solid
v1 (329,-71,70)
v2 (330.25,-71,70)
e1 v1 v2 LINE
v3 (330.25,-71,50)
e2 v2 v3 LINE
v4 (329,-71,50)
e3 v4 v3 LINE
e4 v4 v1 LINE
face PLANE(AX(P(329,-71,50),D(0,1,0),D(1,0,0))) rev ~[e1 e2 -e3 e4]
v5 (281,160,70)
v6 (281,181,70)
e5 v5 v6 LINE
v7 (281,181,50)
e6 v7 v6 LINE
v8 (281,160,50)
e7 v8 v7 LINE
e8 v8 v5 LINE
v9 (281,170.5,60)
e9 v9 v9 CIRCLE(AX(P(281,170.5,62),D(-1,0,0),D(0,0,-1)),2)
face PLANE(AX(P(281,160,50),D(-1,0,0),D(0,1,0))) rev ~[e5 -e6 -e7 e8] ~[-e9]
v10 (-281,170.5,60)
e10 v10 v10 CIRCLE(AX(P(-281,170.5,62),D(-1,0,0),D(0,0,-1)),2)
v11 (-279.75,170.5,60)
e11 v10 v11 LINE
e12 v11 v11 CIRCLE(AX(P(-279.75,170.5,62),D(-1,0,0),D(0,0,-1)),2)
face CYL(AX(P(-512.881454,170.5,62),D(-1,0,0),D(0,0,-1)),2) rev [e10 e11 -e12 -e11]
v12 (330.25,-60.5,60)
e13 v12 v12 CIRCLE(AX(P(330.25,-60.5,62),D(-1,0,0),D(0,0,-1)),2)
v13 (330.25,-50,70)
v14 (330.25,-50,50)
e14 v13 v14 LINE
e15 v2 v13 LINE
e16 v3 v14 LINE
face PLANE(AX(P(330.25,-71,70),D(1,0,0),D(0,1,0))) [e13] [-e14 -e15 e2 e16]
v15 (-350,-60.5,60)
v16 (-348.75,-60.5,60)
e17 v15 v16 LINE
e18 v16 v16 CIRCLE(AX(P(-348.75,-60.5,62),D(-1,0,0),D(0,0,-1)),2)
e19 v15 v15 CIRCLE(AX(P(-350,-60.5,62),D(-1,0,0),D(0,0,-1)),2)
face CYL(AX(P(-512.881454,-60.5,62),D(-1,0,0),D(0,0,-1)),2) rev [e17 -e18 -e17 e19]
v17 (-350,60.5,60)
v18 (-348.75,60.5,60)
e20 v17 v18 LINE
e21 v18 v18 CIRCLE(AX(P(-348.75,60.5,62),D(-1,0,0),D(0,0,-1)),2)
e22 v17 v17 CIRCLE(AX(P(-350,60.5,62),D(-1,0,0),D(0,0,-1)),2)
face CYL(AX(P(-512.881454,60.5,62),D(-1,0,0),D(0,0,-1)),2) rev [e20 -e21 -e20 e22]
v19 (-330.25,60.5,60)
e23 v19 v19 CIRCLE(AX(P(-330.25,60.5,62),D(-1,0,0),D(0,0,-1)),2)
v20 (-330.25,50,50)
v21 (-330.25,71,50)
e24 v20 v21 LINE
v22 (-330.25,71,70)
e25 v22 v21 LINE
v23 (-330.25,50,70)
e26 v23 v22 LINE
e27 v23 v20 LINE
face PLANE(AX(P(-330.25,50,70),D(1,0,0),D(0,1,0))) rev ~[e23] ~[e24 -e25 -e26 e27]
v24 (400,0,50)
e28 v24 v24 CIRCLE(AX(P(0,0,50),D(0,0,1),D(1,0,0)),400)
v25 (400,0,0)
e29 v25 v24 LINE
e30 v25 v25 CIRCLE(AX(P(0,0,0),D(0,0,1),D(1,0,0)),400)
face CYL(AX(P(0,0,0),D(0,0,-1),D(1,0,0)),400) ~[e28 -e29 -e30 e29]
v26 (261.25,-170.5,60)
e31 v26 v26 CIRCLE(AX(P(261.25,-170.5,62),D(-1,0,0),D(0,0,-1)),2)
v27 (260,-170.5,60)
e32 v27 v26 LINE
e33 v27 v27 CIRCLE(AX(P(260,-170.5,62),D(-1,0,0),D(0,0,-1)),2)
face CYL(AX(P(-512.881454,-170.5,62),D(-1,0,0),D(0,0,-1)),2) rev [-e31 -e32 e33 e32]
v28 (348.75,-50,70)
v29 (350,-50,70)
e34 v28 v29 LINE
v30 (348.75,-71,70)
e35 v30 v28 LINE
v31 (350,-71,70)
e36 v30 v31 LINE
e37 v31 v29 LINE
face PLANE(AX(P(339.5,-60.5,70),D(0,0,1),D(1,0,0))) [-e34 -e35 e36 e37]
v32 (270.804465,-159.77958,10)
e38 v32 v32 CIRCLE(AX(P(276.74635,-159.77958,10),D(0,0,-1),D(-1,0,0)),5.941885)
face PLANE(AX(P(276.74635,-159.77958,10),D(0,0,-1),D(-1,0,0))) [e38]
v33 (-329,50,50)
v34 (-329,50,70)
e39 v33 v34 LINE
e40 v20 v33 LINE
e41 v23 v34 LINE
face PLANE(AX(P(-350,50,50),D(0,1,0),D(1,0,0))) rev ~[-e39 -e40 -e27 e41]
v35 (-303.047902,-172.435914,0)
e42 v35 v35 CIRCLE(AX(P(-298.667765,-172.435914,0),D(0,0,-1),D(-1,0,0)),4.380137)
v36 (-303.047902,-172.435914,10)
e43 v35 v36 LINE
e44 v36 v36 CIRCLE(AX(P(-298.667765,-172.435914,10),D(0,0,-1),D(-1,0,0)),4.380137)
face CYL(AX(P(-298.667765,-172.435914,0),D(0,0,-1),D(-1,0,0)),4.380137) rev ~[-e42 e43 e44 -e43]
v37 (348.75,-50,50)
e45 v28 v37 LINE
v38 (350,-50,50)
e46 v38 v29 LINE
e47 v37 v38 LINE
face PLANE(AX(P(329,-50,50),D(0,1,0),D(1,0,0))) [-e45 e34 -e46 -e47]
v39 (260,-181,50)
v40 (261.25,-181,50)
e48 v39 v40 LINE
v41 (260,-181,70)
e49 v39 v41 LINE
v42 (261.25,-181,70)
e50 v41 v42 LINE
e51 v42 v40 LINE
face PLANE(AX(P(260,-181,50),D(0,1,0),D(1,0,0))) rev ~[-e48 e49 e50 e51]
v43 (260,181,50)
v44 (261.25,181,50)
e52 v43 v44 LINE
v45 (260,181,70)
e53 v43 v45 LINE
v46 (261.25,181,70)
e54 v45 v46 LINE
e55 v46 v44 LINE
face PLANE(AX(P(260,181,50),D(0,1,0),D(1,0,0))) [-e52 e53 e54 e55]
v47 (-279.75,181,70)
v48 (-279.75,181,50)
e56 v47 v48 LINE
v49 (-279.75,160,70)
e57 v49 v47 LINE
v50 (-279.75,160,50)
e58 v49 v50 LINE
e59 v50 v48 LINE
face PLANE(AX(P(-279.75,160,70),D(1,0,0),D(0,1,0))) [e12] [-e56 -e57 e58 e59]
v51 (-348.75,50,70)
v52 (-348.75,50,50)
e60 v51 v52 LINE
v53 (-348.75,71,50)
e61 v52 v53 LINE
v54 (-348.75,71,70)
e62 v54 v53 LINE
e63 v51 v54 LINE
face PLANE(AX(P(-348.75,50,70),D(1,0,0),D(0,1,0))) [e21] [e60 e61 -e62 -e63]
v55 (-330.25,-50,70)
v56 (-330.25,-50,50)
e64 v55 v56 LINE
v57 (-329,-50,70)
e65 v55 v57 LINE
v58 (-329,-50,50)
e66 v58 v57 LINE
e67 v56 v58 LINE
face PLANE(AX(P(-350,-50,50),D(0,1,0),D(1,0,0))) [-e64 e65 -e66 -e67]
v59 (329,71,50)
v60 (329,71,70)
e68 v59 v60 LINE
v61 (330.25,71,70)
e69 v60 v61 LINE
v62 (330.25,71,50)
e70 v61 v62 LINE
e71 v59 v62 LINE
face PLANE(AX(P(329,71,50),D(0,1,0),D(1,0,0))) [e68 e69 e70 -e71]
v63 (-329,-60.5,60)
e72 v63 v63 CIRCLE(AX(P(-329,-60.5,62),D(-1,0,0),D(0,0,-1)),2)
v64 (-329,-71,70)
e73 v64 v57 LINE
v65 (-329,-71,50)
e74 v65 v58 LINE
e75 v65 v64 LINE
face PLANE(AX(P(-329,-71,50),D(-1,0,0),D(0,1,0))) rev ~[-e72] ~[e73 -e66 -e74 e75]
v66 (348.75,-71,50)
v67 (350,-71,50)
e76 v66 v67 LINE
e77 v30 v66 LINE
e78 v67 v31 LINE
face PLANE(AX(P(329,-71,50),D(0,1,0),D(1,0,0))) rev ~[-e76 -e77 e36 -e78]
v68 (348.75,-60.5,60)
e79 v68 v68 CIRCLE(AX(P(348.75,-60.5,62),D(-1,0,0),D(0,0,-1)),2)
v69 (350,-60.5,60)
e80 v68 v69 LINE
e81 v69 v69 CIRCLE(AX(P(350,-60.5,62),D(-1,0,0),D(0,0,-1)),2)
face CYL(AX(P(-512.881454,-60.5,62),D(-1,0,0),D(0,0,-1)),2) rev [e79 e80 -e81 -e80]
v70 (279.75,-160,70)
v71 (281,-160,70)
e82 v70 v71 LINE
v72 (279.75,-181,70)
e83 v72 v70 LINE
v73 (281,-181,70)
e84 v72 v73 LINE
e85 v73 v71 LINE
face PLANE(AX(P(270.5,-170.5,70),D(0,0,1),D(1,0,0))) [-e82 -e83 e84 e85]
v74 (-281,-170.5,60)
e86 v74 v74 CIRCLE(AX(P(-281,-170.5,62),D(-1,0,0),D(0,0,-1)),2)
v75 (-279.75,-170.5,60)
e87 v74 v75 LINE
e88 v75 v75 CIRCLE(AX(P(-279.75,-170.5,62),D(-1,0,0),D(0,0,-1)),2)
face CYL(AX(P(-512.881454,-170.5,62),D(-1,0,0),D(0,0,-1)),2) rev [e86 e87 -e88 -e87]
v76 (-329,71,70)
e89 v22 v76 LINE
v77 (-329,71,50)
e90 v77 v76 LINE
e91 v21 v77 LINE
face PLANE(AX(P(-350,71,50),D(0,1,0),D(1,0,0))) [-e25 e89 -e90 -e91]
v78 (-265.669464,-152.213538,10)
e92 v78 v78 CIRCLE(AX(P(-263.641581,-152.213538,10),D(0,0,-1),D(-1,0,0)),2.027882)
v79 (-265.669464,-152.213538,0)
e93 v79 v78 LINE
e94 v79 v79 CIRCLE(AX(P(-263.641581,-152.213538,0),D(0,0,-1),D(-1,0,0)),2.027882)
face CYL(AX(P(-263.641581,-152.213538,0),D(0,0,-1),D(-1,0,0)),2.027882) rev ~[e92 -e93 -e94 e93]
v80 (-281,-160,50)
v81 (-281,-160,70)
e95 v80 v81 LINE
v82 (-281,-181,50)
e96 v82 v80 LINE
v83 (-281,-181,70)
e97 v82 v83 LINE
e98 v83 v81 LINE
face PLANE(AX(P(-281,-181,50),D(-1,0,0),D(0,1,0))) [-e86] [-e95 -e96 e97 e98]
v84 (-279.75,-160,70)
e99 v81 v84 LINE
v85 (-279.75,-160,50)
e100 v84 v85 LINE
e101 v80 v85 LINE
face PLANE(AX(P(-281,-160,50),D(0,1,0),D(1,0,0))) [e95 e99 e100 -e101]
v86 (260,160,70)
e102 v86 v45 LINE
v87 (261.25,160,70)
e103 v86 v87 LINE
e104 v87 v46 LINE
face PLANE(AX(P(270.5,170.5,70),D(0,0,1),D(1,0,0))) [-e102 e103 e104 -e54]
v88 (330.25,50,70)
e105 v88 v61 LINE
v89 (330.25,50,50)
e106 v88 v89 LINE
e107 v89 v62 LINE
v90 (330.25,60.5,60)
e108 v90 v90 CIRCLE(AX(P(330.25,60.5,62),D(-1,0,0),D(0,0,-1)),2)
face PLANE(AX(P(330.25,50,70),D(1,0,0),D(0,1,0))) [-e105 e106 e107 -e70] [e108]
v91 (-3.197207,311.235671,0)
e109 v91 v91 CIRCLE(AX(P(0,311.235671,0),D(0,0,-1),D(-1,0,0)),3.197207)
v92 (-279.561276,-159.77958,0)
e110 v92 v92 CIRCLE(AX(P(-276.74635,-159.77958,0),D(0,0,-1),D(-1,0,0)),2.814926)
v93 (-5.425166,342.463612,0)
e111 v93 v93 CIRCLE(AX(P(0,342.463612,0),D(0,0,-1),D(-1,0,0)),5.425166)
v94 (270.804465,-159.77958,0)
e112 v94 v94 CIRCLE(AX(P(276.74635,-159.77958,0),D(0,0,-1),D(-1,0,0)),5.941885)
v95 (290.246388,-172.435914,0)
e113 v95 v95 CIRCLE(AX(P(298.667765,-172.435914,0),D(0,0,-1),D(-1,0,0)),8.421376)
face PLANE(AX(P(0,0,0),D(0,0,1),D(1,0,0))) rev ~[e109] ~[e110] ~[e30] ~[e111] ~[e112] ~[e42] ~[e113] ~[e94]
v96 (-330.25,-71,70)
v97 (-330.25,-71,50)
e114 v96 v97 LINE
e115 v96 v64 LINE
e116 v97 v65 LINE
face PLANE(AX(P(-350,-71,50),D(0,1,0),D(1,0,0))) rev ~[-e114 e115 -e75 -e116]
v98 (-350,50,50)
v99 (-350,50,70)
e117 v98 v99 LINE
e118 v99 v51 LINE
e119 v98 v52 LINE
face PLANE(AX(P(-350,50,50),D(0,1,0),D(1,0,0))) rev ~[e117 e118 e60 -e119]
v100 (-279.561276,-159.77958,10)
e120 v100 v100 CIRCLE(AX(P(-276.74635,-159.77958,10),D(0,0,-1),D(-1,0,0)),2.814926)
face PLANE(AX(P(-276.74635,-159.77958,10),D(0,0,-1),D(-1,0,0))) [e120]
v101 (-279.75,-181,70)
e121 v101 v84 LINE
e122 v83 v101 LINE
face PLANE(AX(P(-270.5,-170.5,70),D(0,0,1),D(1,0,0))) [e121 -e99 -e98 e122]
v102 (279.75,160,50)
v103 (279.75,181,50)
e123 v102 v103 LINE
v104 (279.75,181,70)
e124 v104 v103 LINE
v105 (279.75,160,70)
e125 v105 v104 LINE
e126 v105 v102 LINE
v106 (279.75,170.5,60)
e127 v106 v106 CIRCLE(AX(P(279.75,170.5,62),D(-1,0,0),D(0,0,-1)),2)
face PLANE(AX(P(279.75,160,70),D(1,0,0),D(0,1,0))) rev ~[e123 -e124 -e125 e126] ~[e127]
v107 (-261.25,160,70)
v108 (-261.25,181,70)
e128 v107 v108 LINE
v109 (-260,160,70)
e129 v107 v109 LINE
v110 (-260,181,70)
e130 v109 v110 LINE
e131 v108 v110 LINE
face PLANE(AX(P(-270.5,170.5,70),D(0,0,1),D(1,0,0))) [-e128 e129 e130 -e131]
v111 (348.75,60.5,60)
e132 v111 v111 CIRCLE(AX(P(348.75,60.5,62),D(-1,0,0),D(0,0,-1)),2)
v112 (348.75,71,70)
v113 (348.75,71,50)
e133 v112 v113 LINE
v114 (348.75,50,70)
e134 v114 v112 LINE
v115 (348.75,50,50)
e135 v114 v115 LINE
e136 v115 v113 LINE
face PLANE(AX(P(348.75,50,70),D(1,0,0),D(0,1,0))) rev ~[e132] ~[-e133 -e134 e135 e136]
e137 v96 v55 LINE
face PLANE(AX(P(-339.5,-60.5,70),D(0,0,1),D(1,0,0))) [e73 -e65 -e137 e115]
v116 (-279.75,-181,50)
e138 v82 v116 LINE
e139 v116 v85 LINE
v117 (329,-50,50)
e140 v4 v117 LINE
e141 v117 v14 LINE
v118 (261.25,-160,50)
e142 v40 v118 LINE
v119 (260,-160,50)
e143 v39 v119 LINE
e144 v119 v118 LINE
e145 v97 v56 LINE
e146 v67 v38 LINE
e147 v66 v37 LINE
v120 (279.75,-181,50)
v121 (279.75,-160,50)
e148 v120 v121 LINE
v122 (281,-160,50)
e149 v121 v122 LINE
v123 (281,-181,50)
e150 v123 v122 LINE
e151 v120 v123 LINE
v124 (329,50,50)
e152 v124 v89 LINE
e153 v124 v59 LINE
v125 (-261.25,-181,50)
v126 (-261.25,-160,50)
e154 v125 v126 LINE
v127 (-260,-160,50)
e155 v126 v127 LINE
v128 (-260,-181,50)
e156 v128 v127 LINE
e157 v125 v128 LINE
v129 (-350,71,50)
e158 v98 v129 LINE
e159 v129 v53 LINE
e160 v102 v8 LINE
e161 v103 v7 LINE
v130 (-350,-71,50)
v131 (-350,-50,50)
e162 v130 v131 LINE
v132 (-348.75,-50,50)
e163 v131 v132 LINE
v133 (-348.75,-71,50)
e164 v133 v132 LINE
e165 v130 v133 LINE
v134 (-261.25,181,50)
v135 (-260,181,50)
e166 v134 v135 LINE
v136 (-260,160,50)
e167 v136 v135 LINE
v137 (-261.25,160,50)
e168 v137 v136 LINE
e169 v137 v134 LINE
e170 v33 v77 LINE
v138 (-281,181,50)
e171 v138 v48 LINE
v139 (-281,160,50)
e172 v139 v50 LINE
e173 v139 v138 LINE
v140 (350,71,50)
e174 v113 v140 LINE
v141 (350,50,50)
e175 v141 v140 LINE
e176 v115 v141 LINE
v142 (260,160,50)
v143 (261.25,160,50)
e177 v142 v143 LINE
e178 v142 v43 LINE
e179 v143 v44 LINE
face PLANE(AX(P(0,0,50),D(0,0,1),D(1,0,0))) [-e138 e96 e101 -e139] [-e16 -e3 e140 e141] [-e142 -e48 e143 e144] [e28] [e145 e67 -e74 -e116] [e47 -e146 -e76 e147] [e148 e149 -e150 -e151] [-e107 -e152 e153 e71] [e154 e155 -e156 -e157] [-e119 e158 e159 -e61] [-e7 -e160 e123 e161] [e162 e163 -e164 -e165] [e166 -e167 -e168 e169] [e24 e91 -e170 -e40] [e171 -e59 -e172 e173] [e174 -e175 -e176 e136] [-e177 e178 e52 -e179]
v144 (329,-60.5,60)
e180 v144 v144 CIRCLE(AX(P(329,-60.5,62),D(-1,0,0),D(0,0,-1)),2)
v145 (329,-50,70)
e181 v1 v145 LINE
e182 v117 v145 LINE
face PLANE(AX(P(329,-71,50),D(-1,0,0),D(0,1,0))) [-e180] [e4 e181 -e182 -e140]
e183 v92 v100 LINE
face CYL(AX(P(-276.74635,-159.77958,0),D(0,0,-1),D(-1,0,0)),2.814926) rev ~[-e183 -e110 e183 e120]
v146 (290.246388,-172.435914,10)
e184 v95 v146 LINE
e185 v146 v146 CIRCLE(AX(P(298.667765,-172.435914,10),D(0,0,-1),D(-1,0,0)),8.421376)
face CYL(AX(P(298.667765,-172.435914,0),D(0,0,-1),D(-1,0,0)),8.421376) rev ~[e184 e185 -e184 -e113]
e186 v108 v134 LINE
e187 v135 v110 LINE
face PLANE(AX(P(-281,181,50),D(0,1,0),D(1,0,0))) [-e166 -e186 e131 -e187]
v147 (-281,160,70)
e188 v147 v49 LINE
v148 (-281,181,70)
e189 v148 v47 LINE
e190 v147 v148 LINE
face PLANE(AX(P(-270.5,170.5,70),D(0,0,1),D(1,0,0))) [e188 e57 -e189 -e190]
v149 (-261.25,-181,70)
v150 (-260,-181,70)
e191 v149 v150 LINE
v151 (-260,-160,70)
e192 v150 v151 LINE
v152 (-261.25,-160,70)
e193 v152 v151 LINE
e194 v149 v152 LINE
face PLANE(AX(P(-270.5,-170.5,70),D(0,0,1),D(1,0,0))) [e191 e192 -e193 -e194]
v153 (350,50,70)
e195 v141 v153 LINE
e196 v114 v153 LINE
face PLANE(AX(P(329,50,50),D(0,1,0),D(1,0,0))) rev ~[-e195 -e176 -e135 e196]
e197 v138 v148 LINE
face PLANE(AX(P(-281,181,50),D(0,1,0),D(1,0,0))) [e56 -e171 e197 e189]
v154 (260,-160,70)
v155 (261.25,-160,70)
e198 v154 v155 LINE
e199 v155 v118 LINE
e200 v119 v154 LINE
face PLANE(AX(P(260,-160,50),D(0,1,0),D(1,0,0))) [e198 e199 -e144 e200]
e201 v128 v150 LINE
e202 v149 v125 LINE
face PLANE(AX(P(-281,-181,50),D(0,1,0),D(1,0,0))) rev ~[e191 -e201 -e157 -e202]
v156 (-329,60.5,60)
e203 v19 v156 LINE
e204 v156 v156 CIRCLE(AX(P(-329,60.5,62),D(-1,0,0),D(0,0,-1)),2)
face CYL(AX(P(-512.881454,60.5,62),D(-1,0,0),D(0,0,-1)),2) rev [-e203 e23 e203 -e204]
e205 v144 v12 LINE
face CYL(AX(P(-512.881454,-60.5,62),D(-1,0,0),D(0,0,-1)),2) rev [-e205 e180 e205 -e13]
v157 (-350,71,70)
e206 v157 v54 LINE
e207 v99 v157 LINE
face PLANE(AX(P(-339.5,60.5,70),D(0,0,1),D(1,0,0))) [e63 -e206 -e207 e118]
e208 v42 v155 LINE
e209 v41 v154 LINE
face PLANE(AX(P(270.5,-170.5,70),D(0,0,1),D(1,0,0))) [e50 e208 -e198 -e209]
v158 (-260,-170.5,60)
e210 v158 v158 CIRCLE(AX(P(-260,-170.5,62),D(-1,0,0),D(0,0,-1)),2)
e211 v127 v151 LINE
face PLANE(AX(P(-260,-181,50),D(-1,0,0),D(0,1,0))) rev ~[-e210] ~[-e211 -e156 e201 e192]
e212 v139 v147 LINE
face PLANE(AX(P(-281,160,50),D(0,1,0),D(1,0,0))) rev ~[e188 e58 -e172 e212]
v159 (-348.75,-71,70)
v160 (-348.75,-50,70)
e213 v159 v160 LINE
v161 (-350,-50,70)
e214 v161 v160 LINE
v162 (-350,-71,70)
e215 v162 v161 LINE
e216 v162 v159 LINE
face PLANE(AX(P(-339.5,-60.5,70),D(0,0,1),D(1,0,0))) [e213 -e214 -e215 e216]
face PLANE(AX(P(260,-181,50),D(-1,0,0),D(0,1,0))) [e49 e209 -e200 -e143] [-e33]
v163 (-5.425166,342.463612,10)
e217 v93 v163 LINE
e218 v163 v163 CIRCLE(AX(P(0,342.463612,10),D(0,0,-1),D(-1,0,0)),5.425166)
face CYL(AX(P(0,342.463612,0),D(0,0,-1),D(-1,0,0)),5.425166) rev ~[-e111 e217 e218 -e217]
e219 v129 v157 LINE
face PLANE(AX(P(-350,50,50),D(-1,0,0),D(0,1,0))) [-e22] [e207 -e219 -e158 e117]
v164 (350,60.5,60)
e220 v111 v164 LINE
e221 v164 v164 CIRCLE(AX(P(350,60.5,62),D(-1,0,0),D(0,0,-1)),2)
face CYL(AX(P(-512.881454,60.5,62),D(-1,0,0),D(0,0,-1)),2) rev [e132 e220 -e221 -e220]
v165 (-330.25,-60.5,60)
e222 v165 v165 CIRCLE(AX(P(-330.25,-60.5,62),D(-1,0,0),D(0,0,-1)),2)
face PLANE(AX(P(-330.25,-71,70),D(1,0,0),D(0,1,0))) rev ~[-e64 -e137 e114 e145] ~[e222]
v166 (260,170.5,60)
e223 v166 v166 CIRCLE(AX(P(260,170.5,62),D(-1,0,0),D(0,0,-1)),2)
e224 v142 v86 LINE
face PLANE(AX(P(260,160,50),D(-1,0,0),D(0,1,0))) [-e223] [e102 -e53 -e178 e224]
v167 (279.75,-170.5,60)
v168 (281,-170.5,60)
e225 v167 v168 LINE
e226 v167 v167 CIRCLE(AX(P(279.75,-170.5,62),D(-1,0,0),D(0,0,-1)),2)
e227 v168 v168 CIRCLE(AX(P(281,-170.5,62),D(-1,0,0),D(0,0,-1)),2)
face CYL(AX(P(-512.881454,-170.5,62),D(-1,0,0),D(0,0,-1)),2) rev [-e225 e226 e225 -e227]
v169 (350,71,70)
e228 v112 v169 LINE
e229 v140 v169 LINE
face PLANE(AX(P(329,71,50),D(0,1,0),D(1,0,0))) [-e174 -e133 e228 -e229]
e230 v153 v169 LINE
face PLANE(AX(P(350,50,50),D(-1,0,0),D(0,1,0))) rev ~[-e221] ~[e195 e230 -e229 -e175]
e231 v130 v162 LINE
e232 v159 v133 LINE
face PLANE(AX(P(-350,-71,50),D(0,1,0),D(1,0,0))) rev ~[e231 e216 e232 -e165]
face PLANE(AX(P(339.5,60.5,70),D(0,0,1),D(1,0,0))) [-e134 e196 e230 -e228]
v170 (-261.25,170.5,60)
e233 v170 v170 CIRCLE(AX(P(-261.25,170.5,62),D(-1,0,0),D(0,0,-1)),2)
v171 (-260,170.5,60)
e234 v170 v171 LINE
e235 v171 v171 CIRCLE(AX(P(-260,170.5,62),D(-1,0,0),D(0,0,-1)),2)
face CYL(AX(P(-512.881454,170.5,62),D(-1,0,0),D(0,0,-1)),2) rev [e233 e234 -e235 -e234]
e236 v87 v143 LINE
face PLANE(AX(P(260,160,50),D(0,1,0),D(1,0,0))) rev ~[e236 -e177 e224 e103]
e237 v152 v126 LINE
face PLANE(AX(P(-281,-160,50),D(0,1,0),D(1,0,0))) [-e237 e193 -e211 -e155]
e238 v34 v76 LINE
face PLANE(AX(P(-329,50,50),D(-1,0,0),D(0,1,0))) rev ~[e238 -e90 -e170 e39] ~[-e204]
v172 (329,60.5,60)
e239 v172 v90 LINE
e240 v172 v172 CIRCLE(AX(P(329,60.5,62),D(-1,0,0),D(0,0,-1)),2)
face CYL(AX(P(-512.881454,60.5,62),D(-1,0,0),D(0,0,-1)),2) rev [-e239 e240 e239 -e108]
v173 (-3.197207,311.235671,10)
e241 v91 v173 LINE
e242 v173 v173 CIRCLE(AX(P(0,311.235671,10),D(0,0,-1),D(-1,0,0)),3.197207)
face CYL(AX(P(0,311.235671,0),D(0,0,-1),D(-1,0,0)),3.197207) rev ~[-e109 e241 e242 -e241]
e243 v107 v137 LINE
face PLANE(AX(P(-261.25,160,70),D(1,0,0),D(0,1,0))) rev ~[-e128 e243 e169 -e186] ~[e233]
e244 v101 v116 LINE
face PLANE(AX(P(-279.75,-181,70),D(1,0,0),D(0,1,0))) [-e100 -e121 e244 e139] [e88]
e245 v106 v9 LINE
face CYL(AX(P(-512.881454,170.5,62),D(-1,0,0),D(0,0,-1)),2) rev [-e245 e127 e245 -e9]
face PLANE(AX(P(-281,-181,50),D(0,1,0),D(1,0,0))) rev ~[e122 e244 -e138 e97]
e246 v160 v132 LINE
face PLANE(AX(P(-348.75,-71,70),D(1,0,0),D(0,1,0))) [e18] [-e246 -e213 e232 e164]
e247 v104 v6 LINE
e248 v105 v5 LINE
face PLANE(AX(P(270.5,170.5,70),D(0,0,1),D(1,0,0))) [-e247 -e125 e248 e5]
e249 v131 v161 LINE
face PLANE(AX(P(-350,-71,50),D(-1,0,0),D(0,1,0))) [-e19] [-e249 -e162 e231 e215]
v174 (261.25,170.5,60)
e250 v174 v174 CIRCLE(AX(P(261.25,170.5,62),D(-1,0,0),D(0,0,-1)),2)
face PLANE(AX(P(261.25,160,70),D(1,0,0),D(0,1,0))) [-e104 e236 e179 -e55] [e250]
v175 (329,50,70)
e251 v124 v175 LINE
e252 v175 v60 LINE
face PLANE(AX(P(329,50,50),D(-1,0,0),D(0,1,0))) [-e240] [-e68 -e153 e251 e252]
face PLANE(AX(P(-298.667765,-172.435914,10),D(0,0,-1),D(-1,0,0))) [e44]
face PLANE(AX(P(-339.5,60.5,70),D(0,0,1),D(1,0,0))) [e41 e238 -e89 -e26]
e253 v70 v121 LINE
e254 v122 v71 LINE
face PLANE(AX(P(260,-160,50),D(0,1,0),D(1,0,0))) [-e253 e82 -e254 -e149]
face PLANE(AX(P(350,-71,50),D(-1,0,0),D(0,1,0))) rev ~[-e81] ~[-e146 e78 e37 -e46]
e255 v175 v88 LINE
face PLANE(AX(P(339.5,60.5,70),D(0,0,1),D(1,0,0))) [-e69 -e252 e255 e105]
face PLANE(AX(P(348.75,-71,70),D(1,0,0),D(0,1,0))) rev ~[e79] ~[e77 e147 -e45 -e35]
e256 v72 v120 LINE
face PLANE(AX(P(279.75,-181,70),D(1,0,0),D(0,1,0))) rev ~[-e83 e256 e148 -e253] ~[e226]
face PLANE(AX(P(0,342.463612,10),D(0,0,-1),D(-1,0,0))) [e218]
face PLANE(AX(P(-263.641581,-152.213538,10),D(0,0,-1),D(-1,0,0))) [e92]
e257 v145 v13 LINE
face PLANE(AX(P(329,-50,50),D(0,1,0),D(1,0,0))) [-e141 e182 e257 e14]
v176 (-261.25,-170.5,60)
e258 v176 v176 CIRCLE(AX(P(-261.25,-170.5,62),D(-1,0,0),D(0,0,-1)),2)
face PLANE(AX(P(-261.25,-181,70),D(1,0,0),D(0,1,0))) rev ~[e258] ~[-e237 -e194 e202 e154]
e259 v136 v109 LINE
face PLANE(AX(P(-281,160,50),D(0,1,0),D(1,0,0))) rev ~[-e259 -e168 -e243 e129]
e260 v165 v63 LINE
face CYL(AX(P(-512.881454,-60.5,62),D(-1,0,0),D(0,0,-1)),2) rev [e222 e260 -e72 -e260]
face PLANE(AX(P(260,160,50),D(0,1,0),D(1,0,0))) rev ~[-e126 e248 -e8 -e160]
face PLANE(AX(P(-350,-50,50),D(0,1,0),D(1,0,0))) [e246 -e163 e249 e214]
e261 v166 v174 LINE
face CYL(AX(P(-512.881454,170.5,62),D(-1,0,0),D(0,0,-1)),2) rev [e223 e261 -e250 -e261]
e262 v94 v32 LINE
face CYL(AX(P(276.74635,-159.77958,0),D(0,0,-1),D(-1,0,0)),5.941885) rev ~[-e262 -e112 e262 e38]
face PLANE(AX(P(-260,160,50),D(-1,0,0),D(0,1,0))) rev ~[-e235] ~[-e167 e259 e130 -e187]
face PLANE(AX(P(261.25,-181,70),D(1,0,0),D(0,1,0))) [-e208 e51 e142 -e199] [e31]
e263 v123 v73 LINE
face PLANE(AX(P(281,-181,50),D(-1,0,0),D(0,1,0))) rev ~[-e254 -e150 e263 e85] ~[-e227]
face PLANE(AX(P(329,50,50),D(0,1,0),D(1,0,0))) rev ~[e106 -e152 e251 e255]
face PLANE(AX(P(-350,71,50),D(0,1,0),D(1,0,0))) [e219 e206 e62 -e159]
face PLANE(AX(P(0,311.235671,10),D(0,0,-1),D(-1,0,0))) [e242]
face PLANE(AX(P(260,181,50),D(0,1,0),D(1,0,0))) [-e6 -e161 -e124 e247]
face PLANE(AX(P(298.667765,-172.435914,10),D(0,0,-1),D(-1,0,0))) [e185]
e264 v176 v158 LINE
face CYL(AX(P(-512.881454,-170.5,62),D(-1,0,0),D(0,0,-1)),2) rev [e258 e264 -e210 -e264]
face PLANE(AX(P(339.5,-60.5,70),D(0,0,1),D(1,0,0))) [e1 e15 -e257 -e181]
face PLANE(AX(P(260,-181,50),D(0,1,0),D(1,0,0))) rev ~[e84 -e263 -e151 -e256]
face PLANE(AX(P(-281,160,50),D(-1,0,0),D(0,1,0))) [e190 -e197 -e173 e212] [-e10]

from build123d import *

# Parameters (mm, degrees)
SKETCH1_R               = 400
BOSS_EXTRUDE1_DEPTH     = 50
SKETCH2_W               = 21
SKETCH2_H               = 21
BOSS_EXTRUDE2_DEPTH     = 20
SKETCH4_W               = 18.5
SKETCH4_H               = 21
CUT_EXTRUDE1_DEPTH      = 20
CUT_EXTRUDE2_DEPTH      = 793.881453939
CUT_EXTRUDE2_DEPTH_BACK = 793.881453939
SKETCH5_R               = 2
SKETCH6_R               = 4.380137325
SKETCH6_R_2             = 5.425166138
SKETCH6_R_3             = 8.421376202
SKETCH6_R_4             = 2.814926411
SKETCH6_R_5             = 5.941885297
SKETCH6_R_6             = 3.197207439
SKETCH6_R_7             = 2.027882418
CUT_EXTRUDE3_DEPTH      = 10


with BuildPart() as part:
    # Sketch1 → Boss-Extrude1 (new body)
    with BuildSketch(Plane.XY):
        Circle(SKETCH1_R)
    extrude(amount=BOSS_EXTRUDE1_DEPTH)

    # Sketch2 → Boss-Extrude2 (add)
    with BuildSketch(Plane.XY.offset(50)):
        with Locations((339.5, -60.5)):
            Rectangle(SKETCH2_W, SKETCH2_H)
        with Locations((339.5, 60.5)):
            Rectangle(SKETCH2_W, SKETCH2_H)
        with Locations((270.5, -170.5)):
            Rectangle(SKETCH2_W, SKETCH2_H)
        with Locations((270.5, 170.5)):
            Rectangle(SKETCH2_W, SKETCH2_H)
        with Locations((-270.5, -170.5)):
            Rectangle(SKETCH2_W, SKETCH2_H)
        with Locations((-339.5, -60.5)):
            Rectangle(SKETCH2_W, SKETCH2_H)
        with Locations((-339.5, 60.5)):
            Rectangle(SKETCH2_W, SKETCH2_H)
        with Locations((-270.5, 170.5)):
            Rectangle(SKETCH2_W, SKETCH2_H)
    extrude(amount=BOSS_EXTRUDE2_DEPTH)

    # Sketch4 → Cut-Extrude1 (cut)
    with BuildSketch(Plane.XY.offset(70)):
        with Locations((270.5, 170.5)):
            Rectangle(SKETCH4_W, SKETCH4_H)
        with Locations((339.5, 60.5)):
            Rectangle(SKETCH4_W, SKETCH4_H)
        with Locations((339.5, -60.5)):
            Rectangle(SKETCH4_W, SKETCH4_H)
        with Locations((270.5, -170.5)):
            Rectangle(SKETCH4_W, SKETCH4_H)
        with Locations((-270.5, -170.5)):
            Rectangle(SKETCH4_W, SKETCH4_H)
        with Locations((-339.5, -60.5)):
            Rectangle(SKETCH4_W, SKETCH4_H)
        with Locations((-339.5, 60.5)):
            Rectangle(SKETCH4_W, SKETCH4_H)
        with Locations((-270.5, 170.5)):
            Rectangle(SKETCH4_W, SKETCH4_H)
    extrude(amount=-CUT_EXTRUDE1_DEPTH, mode=Mode.SUBTRACT)

    # Sketch5 → Cut-Extrude2 (cut, two sides: drawn at the far end of the back side and taken through both)
    with BuildSketch(Plane(origin=(281, 0, 0), x_dir=(0, 0, -1), z_dir=(1, 0, 0)).offset(-CUT_EXTRUDE2_DEPTH_BACK)):
        with Locations((-62, 170.5)):
            Circle(SKETCH5_R)
        with Locations((-62, 60.5)):
            Circle(SKETCH5_R)
        with Locations((-62, -60.5)):
            Circle(SKETCH5_R)
        with Locations((-62, -170.5)):
            Circle(SKETCH5_R)
    extrude(amount=CUT_EXTRUDE2_DEPTH + CUT_EXTRUDE2_DEPTH_BACK, mode=Mode.SUBTRACT)

    # Sketch6 → Cut-Extrude3 (cut)
    with BuildSketch(Plane(origin=(0, 0, 0), x_dir=(-1, 0, 0), z_dir=(0, 0, -1))):
        with Locations((298.667764573, -172.435914274)):
            Circle(SKETCH6_R)
        with Locations((0, 342.463612446)):
            Circle(SKETCH6_R_2)
        with Locations((-298.667764573, -172.435914274)):
            Circle(SKETCH6_R_3)
        with Locations((276.746350043, -159.779579694)):
            Circle(SKETCH6_R_4)
        with Locations((-276.746350043, -159.779579694)):
            Circle(SKETCH6_R_5)
        with Locations((0, 311.235670646)):
            Circle(SKETCH6_R_6)
        with Locations((263.641581449, -152.213538019)):
            Circle(SKETCH6_R_7)
    extrude(amount=-CUT_EXTRUDE3_DEPTH, mode=Mode.SUBTRACT)


solid = part.part
